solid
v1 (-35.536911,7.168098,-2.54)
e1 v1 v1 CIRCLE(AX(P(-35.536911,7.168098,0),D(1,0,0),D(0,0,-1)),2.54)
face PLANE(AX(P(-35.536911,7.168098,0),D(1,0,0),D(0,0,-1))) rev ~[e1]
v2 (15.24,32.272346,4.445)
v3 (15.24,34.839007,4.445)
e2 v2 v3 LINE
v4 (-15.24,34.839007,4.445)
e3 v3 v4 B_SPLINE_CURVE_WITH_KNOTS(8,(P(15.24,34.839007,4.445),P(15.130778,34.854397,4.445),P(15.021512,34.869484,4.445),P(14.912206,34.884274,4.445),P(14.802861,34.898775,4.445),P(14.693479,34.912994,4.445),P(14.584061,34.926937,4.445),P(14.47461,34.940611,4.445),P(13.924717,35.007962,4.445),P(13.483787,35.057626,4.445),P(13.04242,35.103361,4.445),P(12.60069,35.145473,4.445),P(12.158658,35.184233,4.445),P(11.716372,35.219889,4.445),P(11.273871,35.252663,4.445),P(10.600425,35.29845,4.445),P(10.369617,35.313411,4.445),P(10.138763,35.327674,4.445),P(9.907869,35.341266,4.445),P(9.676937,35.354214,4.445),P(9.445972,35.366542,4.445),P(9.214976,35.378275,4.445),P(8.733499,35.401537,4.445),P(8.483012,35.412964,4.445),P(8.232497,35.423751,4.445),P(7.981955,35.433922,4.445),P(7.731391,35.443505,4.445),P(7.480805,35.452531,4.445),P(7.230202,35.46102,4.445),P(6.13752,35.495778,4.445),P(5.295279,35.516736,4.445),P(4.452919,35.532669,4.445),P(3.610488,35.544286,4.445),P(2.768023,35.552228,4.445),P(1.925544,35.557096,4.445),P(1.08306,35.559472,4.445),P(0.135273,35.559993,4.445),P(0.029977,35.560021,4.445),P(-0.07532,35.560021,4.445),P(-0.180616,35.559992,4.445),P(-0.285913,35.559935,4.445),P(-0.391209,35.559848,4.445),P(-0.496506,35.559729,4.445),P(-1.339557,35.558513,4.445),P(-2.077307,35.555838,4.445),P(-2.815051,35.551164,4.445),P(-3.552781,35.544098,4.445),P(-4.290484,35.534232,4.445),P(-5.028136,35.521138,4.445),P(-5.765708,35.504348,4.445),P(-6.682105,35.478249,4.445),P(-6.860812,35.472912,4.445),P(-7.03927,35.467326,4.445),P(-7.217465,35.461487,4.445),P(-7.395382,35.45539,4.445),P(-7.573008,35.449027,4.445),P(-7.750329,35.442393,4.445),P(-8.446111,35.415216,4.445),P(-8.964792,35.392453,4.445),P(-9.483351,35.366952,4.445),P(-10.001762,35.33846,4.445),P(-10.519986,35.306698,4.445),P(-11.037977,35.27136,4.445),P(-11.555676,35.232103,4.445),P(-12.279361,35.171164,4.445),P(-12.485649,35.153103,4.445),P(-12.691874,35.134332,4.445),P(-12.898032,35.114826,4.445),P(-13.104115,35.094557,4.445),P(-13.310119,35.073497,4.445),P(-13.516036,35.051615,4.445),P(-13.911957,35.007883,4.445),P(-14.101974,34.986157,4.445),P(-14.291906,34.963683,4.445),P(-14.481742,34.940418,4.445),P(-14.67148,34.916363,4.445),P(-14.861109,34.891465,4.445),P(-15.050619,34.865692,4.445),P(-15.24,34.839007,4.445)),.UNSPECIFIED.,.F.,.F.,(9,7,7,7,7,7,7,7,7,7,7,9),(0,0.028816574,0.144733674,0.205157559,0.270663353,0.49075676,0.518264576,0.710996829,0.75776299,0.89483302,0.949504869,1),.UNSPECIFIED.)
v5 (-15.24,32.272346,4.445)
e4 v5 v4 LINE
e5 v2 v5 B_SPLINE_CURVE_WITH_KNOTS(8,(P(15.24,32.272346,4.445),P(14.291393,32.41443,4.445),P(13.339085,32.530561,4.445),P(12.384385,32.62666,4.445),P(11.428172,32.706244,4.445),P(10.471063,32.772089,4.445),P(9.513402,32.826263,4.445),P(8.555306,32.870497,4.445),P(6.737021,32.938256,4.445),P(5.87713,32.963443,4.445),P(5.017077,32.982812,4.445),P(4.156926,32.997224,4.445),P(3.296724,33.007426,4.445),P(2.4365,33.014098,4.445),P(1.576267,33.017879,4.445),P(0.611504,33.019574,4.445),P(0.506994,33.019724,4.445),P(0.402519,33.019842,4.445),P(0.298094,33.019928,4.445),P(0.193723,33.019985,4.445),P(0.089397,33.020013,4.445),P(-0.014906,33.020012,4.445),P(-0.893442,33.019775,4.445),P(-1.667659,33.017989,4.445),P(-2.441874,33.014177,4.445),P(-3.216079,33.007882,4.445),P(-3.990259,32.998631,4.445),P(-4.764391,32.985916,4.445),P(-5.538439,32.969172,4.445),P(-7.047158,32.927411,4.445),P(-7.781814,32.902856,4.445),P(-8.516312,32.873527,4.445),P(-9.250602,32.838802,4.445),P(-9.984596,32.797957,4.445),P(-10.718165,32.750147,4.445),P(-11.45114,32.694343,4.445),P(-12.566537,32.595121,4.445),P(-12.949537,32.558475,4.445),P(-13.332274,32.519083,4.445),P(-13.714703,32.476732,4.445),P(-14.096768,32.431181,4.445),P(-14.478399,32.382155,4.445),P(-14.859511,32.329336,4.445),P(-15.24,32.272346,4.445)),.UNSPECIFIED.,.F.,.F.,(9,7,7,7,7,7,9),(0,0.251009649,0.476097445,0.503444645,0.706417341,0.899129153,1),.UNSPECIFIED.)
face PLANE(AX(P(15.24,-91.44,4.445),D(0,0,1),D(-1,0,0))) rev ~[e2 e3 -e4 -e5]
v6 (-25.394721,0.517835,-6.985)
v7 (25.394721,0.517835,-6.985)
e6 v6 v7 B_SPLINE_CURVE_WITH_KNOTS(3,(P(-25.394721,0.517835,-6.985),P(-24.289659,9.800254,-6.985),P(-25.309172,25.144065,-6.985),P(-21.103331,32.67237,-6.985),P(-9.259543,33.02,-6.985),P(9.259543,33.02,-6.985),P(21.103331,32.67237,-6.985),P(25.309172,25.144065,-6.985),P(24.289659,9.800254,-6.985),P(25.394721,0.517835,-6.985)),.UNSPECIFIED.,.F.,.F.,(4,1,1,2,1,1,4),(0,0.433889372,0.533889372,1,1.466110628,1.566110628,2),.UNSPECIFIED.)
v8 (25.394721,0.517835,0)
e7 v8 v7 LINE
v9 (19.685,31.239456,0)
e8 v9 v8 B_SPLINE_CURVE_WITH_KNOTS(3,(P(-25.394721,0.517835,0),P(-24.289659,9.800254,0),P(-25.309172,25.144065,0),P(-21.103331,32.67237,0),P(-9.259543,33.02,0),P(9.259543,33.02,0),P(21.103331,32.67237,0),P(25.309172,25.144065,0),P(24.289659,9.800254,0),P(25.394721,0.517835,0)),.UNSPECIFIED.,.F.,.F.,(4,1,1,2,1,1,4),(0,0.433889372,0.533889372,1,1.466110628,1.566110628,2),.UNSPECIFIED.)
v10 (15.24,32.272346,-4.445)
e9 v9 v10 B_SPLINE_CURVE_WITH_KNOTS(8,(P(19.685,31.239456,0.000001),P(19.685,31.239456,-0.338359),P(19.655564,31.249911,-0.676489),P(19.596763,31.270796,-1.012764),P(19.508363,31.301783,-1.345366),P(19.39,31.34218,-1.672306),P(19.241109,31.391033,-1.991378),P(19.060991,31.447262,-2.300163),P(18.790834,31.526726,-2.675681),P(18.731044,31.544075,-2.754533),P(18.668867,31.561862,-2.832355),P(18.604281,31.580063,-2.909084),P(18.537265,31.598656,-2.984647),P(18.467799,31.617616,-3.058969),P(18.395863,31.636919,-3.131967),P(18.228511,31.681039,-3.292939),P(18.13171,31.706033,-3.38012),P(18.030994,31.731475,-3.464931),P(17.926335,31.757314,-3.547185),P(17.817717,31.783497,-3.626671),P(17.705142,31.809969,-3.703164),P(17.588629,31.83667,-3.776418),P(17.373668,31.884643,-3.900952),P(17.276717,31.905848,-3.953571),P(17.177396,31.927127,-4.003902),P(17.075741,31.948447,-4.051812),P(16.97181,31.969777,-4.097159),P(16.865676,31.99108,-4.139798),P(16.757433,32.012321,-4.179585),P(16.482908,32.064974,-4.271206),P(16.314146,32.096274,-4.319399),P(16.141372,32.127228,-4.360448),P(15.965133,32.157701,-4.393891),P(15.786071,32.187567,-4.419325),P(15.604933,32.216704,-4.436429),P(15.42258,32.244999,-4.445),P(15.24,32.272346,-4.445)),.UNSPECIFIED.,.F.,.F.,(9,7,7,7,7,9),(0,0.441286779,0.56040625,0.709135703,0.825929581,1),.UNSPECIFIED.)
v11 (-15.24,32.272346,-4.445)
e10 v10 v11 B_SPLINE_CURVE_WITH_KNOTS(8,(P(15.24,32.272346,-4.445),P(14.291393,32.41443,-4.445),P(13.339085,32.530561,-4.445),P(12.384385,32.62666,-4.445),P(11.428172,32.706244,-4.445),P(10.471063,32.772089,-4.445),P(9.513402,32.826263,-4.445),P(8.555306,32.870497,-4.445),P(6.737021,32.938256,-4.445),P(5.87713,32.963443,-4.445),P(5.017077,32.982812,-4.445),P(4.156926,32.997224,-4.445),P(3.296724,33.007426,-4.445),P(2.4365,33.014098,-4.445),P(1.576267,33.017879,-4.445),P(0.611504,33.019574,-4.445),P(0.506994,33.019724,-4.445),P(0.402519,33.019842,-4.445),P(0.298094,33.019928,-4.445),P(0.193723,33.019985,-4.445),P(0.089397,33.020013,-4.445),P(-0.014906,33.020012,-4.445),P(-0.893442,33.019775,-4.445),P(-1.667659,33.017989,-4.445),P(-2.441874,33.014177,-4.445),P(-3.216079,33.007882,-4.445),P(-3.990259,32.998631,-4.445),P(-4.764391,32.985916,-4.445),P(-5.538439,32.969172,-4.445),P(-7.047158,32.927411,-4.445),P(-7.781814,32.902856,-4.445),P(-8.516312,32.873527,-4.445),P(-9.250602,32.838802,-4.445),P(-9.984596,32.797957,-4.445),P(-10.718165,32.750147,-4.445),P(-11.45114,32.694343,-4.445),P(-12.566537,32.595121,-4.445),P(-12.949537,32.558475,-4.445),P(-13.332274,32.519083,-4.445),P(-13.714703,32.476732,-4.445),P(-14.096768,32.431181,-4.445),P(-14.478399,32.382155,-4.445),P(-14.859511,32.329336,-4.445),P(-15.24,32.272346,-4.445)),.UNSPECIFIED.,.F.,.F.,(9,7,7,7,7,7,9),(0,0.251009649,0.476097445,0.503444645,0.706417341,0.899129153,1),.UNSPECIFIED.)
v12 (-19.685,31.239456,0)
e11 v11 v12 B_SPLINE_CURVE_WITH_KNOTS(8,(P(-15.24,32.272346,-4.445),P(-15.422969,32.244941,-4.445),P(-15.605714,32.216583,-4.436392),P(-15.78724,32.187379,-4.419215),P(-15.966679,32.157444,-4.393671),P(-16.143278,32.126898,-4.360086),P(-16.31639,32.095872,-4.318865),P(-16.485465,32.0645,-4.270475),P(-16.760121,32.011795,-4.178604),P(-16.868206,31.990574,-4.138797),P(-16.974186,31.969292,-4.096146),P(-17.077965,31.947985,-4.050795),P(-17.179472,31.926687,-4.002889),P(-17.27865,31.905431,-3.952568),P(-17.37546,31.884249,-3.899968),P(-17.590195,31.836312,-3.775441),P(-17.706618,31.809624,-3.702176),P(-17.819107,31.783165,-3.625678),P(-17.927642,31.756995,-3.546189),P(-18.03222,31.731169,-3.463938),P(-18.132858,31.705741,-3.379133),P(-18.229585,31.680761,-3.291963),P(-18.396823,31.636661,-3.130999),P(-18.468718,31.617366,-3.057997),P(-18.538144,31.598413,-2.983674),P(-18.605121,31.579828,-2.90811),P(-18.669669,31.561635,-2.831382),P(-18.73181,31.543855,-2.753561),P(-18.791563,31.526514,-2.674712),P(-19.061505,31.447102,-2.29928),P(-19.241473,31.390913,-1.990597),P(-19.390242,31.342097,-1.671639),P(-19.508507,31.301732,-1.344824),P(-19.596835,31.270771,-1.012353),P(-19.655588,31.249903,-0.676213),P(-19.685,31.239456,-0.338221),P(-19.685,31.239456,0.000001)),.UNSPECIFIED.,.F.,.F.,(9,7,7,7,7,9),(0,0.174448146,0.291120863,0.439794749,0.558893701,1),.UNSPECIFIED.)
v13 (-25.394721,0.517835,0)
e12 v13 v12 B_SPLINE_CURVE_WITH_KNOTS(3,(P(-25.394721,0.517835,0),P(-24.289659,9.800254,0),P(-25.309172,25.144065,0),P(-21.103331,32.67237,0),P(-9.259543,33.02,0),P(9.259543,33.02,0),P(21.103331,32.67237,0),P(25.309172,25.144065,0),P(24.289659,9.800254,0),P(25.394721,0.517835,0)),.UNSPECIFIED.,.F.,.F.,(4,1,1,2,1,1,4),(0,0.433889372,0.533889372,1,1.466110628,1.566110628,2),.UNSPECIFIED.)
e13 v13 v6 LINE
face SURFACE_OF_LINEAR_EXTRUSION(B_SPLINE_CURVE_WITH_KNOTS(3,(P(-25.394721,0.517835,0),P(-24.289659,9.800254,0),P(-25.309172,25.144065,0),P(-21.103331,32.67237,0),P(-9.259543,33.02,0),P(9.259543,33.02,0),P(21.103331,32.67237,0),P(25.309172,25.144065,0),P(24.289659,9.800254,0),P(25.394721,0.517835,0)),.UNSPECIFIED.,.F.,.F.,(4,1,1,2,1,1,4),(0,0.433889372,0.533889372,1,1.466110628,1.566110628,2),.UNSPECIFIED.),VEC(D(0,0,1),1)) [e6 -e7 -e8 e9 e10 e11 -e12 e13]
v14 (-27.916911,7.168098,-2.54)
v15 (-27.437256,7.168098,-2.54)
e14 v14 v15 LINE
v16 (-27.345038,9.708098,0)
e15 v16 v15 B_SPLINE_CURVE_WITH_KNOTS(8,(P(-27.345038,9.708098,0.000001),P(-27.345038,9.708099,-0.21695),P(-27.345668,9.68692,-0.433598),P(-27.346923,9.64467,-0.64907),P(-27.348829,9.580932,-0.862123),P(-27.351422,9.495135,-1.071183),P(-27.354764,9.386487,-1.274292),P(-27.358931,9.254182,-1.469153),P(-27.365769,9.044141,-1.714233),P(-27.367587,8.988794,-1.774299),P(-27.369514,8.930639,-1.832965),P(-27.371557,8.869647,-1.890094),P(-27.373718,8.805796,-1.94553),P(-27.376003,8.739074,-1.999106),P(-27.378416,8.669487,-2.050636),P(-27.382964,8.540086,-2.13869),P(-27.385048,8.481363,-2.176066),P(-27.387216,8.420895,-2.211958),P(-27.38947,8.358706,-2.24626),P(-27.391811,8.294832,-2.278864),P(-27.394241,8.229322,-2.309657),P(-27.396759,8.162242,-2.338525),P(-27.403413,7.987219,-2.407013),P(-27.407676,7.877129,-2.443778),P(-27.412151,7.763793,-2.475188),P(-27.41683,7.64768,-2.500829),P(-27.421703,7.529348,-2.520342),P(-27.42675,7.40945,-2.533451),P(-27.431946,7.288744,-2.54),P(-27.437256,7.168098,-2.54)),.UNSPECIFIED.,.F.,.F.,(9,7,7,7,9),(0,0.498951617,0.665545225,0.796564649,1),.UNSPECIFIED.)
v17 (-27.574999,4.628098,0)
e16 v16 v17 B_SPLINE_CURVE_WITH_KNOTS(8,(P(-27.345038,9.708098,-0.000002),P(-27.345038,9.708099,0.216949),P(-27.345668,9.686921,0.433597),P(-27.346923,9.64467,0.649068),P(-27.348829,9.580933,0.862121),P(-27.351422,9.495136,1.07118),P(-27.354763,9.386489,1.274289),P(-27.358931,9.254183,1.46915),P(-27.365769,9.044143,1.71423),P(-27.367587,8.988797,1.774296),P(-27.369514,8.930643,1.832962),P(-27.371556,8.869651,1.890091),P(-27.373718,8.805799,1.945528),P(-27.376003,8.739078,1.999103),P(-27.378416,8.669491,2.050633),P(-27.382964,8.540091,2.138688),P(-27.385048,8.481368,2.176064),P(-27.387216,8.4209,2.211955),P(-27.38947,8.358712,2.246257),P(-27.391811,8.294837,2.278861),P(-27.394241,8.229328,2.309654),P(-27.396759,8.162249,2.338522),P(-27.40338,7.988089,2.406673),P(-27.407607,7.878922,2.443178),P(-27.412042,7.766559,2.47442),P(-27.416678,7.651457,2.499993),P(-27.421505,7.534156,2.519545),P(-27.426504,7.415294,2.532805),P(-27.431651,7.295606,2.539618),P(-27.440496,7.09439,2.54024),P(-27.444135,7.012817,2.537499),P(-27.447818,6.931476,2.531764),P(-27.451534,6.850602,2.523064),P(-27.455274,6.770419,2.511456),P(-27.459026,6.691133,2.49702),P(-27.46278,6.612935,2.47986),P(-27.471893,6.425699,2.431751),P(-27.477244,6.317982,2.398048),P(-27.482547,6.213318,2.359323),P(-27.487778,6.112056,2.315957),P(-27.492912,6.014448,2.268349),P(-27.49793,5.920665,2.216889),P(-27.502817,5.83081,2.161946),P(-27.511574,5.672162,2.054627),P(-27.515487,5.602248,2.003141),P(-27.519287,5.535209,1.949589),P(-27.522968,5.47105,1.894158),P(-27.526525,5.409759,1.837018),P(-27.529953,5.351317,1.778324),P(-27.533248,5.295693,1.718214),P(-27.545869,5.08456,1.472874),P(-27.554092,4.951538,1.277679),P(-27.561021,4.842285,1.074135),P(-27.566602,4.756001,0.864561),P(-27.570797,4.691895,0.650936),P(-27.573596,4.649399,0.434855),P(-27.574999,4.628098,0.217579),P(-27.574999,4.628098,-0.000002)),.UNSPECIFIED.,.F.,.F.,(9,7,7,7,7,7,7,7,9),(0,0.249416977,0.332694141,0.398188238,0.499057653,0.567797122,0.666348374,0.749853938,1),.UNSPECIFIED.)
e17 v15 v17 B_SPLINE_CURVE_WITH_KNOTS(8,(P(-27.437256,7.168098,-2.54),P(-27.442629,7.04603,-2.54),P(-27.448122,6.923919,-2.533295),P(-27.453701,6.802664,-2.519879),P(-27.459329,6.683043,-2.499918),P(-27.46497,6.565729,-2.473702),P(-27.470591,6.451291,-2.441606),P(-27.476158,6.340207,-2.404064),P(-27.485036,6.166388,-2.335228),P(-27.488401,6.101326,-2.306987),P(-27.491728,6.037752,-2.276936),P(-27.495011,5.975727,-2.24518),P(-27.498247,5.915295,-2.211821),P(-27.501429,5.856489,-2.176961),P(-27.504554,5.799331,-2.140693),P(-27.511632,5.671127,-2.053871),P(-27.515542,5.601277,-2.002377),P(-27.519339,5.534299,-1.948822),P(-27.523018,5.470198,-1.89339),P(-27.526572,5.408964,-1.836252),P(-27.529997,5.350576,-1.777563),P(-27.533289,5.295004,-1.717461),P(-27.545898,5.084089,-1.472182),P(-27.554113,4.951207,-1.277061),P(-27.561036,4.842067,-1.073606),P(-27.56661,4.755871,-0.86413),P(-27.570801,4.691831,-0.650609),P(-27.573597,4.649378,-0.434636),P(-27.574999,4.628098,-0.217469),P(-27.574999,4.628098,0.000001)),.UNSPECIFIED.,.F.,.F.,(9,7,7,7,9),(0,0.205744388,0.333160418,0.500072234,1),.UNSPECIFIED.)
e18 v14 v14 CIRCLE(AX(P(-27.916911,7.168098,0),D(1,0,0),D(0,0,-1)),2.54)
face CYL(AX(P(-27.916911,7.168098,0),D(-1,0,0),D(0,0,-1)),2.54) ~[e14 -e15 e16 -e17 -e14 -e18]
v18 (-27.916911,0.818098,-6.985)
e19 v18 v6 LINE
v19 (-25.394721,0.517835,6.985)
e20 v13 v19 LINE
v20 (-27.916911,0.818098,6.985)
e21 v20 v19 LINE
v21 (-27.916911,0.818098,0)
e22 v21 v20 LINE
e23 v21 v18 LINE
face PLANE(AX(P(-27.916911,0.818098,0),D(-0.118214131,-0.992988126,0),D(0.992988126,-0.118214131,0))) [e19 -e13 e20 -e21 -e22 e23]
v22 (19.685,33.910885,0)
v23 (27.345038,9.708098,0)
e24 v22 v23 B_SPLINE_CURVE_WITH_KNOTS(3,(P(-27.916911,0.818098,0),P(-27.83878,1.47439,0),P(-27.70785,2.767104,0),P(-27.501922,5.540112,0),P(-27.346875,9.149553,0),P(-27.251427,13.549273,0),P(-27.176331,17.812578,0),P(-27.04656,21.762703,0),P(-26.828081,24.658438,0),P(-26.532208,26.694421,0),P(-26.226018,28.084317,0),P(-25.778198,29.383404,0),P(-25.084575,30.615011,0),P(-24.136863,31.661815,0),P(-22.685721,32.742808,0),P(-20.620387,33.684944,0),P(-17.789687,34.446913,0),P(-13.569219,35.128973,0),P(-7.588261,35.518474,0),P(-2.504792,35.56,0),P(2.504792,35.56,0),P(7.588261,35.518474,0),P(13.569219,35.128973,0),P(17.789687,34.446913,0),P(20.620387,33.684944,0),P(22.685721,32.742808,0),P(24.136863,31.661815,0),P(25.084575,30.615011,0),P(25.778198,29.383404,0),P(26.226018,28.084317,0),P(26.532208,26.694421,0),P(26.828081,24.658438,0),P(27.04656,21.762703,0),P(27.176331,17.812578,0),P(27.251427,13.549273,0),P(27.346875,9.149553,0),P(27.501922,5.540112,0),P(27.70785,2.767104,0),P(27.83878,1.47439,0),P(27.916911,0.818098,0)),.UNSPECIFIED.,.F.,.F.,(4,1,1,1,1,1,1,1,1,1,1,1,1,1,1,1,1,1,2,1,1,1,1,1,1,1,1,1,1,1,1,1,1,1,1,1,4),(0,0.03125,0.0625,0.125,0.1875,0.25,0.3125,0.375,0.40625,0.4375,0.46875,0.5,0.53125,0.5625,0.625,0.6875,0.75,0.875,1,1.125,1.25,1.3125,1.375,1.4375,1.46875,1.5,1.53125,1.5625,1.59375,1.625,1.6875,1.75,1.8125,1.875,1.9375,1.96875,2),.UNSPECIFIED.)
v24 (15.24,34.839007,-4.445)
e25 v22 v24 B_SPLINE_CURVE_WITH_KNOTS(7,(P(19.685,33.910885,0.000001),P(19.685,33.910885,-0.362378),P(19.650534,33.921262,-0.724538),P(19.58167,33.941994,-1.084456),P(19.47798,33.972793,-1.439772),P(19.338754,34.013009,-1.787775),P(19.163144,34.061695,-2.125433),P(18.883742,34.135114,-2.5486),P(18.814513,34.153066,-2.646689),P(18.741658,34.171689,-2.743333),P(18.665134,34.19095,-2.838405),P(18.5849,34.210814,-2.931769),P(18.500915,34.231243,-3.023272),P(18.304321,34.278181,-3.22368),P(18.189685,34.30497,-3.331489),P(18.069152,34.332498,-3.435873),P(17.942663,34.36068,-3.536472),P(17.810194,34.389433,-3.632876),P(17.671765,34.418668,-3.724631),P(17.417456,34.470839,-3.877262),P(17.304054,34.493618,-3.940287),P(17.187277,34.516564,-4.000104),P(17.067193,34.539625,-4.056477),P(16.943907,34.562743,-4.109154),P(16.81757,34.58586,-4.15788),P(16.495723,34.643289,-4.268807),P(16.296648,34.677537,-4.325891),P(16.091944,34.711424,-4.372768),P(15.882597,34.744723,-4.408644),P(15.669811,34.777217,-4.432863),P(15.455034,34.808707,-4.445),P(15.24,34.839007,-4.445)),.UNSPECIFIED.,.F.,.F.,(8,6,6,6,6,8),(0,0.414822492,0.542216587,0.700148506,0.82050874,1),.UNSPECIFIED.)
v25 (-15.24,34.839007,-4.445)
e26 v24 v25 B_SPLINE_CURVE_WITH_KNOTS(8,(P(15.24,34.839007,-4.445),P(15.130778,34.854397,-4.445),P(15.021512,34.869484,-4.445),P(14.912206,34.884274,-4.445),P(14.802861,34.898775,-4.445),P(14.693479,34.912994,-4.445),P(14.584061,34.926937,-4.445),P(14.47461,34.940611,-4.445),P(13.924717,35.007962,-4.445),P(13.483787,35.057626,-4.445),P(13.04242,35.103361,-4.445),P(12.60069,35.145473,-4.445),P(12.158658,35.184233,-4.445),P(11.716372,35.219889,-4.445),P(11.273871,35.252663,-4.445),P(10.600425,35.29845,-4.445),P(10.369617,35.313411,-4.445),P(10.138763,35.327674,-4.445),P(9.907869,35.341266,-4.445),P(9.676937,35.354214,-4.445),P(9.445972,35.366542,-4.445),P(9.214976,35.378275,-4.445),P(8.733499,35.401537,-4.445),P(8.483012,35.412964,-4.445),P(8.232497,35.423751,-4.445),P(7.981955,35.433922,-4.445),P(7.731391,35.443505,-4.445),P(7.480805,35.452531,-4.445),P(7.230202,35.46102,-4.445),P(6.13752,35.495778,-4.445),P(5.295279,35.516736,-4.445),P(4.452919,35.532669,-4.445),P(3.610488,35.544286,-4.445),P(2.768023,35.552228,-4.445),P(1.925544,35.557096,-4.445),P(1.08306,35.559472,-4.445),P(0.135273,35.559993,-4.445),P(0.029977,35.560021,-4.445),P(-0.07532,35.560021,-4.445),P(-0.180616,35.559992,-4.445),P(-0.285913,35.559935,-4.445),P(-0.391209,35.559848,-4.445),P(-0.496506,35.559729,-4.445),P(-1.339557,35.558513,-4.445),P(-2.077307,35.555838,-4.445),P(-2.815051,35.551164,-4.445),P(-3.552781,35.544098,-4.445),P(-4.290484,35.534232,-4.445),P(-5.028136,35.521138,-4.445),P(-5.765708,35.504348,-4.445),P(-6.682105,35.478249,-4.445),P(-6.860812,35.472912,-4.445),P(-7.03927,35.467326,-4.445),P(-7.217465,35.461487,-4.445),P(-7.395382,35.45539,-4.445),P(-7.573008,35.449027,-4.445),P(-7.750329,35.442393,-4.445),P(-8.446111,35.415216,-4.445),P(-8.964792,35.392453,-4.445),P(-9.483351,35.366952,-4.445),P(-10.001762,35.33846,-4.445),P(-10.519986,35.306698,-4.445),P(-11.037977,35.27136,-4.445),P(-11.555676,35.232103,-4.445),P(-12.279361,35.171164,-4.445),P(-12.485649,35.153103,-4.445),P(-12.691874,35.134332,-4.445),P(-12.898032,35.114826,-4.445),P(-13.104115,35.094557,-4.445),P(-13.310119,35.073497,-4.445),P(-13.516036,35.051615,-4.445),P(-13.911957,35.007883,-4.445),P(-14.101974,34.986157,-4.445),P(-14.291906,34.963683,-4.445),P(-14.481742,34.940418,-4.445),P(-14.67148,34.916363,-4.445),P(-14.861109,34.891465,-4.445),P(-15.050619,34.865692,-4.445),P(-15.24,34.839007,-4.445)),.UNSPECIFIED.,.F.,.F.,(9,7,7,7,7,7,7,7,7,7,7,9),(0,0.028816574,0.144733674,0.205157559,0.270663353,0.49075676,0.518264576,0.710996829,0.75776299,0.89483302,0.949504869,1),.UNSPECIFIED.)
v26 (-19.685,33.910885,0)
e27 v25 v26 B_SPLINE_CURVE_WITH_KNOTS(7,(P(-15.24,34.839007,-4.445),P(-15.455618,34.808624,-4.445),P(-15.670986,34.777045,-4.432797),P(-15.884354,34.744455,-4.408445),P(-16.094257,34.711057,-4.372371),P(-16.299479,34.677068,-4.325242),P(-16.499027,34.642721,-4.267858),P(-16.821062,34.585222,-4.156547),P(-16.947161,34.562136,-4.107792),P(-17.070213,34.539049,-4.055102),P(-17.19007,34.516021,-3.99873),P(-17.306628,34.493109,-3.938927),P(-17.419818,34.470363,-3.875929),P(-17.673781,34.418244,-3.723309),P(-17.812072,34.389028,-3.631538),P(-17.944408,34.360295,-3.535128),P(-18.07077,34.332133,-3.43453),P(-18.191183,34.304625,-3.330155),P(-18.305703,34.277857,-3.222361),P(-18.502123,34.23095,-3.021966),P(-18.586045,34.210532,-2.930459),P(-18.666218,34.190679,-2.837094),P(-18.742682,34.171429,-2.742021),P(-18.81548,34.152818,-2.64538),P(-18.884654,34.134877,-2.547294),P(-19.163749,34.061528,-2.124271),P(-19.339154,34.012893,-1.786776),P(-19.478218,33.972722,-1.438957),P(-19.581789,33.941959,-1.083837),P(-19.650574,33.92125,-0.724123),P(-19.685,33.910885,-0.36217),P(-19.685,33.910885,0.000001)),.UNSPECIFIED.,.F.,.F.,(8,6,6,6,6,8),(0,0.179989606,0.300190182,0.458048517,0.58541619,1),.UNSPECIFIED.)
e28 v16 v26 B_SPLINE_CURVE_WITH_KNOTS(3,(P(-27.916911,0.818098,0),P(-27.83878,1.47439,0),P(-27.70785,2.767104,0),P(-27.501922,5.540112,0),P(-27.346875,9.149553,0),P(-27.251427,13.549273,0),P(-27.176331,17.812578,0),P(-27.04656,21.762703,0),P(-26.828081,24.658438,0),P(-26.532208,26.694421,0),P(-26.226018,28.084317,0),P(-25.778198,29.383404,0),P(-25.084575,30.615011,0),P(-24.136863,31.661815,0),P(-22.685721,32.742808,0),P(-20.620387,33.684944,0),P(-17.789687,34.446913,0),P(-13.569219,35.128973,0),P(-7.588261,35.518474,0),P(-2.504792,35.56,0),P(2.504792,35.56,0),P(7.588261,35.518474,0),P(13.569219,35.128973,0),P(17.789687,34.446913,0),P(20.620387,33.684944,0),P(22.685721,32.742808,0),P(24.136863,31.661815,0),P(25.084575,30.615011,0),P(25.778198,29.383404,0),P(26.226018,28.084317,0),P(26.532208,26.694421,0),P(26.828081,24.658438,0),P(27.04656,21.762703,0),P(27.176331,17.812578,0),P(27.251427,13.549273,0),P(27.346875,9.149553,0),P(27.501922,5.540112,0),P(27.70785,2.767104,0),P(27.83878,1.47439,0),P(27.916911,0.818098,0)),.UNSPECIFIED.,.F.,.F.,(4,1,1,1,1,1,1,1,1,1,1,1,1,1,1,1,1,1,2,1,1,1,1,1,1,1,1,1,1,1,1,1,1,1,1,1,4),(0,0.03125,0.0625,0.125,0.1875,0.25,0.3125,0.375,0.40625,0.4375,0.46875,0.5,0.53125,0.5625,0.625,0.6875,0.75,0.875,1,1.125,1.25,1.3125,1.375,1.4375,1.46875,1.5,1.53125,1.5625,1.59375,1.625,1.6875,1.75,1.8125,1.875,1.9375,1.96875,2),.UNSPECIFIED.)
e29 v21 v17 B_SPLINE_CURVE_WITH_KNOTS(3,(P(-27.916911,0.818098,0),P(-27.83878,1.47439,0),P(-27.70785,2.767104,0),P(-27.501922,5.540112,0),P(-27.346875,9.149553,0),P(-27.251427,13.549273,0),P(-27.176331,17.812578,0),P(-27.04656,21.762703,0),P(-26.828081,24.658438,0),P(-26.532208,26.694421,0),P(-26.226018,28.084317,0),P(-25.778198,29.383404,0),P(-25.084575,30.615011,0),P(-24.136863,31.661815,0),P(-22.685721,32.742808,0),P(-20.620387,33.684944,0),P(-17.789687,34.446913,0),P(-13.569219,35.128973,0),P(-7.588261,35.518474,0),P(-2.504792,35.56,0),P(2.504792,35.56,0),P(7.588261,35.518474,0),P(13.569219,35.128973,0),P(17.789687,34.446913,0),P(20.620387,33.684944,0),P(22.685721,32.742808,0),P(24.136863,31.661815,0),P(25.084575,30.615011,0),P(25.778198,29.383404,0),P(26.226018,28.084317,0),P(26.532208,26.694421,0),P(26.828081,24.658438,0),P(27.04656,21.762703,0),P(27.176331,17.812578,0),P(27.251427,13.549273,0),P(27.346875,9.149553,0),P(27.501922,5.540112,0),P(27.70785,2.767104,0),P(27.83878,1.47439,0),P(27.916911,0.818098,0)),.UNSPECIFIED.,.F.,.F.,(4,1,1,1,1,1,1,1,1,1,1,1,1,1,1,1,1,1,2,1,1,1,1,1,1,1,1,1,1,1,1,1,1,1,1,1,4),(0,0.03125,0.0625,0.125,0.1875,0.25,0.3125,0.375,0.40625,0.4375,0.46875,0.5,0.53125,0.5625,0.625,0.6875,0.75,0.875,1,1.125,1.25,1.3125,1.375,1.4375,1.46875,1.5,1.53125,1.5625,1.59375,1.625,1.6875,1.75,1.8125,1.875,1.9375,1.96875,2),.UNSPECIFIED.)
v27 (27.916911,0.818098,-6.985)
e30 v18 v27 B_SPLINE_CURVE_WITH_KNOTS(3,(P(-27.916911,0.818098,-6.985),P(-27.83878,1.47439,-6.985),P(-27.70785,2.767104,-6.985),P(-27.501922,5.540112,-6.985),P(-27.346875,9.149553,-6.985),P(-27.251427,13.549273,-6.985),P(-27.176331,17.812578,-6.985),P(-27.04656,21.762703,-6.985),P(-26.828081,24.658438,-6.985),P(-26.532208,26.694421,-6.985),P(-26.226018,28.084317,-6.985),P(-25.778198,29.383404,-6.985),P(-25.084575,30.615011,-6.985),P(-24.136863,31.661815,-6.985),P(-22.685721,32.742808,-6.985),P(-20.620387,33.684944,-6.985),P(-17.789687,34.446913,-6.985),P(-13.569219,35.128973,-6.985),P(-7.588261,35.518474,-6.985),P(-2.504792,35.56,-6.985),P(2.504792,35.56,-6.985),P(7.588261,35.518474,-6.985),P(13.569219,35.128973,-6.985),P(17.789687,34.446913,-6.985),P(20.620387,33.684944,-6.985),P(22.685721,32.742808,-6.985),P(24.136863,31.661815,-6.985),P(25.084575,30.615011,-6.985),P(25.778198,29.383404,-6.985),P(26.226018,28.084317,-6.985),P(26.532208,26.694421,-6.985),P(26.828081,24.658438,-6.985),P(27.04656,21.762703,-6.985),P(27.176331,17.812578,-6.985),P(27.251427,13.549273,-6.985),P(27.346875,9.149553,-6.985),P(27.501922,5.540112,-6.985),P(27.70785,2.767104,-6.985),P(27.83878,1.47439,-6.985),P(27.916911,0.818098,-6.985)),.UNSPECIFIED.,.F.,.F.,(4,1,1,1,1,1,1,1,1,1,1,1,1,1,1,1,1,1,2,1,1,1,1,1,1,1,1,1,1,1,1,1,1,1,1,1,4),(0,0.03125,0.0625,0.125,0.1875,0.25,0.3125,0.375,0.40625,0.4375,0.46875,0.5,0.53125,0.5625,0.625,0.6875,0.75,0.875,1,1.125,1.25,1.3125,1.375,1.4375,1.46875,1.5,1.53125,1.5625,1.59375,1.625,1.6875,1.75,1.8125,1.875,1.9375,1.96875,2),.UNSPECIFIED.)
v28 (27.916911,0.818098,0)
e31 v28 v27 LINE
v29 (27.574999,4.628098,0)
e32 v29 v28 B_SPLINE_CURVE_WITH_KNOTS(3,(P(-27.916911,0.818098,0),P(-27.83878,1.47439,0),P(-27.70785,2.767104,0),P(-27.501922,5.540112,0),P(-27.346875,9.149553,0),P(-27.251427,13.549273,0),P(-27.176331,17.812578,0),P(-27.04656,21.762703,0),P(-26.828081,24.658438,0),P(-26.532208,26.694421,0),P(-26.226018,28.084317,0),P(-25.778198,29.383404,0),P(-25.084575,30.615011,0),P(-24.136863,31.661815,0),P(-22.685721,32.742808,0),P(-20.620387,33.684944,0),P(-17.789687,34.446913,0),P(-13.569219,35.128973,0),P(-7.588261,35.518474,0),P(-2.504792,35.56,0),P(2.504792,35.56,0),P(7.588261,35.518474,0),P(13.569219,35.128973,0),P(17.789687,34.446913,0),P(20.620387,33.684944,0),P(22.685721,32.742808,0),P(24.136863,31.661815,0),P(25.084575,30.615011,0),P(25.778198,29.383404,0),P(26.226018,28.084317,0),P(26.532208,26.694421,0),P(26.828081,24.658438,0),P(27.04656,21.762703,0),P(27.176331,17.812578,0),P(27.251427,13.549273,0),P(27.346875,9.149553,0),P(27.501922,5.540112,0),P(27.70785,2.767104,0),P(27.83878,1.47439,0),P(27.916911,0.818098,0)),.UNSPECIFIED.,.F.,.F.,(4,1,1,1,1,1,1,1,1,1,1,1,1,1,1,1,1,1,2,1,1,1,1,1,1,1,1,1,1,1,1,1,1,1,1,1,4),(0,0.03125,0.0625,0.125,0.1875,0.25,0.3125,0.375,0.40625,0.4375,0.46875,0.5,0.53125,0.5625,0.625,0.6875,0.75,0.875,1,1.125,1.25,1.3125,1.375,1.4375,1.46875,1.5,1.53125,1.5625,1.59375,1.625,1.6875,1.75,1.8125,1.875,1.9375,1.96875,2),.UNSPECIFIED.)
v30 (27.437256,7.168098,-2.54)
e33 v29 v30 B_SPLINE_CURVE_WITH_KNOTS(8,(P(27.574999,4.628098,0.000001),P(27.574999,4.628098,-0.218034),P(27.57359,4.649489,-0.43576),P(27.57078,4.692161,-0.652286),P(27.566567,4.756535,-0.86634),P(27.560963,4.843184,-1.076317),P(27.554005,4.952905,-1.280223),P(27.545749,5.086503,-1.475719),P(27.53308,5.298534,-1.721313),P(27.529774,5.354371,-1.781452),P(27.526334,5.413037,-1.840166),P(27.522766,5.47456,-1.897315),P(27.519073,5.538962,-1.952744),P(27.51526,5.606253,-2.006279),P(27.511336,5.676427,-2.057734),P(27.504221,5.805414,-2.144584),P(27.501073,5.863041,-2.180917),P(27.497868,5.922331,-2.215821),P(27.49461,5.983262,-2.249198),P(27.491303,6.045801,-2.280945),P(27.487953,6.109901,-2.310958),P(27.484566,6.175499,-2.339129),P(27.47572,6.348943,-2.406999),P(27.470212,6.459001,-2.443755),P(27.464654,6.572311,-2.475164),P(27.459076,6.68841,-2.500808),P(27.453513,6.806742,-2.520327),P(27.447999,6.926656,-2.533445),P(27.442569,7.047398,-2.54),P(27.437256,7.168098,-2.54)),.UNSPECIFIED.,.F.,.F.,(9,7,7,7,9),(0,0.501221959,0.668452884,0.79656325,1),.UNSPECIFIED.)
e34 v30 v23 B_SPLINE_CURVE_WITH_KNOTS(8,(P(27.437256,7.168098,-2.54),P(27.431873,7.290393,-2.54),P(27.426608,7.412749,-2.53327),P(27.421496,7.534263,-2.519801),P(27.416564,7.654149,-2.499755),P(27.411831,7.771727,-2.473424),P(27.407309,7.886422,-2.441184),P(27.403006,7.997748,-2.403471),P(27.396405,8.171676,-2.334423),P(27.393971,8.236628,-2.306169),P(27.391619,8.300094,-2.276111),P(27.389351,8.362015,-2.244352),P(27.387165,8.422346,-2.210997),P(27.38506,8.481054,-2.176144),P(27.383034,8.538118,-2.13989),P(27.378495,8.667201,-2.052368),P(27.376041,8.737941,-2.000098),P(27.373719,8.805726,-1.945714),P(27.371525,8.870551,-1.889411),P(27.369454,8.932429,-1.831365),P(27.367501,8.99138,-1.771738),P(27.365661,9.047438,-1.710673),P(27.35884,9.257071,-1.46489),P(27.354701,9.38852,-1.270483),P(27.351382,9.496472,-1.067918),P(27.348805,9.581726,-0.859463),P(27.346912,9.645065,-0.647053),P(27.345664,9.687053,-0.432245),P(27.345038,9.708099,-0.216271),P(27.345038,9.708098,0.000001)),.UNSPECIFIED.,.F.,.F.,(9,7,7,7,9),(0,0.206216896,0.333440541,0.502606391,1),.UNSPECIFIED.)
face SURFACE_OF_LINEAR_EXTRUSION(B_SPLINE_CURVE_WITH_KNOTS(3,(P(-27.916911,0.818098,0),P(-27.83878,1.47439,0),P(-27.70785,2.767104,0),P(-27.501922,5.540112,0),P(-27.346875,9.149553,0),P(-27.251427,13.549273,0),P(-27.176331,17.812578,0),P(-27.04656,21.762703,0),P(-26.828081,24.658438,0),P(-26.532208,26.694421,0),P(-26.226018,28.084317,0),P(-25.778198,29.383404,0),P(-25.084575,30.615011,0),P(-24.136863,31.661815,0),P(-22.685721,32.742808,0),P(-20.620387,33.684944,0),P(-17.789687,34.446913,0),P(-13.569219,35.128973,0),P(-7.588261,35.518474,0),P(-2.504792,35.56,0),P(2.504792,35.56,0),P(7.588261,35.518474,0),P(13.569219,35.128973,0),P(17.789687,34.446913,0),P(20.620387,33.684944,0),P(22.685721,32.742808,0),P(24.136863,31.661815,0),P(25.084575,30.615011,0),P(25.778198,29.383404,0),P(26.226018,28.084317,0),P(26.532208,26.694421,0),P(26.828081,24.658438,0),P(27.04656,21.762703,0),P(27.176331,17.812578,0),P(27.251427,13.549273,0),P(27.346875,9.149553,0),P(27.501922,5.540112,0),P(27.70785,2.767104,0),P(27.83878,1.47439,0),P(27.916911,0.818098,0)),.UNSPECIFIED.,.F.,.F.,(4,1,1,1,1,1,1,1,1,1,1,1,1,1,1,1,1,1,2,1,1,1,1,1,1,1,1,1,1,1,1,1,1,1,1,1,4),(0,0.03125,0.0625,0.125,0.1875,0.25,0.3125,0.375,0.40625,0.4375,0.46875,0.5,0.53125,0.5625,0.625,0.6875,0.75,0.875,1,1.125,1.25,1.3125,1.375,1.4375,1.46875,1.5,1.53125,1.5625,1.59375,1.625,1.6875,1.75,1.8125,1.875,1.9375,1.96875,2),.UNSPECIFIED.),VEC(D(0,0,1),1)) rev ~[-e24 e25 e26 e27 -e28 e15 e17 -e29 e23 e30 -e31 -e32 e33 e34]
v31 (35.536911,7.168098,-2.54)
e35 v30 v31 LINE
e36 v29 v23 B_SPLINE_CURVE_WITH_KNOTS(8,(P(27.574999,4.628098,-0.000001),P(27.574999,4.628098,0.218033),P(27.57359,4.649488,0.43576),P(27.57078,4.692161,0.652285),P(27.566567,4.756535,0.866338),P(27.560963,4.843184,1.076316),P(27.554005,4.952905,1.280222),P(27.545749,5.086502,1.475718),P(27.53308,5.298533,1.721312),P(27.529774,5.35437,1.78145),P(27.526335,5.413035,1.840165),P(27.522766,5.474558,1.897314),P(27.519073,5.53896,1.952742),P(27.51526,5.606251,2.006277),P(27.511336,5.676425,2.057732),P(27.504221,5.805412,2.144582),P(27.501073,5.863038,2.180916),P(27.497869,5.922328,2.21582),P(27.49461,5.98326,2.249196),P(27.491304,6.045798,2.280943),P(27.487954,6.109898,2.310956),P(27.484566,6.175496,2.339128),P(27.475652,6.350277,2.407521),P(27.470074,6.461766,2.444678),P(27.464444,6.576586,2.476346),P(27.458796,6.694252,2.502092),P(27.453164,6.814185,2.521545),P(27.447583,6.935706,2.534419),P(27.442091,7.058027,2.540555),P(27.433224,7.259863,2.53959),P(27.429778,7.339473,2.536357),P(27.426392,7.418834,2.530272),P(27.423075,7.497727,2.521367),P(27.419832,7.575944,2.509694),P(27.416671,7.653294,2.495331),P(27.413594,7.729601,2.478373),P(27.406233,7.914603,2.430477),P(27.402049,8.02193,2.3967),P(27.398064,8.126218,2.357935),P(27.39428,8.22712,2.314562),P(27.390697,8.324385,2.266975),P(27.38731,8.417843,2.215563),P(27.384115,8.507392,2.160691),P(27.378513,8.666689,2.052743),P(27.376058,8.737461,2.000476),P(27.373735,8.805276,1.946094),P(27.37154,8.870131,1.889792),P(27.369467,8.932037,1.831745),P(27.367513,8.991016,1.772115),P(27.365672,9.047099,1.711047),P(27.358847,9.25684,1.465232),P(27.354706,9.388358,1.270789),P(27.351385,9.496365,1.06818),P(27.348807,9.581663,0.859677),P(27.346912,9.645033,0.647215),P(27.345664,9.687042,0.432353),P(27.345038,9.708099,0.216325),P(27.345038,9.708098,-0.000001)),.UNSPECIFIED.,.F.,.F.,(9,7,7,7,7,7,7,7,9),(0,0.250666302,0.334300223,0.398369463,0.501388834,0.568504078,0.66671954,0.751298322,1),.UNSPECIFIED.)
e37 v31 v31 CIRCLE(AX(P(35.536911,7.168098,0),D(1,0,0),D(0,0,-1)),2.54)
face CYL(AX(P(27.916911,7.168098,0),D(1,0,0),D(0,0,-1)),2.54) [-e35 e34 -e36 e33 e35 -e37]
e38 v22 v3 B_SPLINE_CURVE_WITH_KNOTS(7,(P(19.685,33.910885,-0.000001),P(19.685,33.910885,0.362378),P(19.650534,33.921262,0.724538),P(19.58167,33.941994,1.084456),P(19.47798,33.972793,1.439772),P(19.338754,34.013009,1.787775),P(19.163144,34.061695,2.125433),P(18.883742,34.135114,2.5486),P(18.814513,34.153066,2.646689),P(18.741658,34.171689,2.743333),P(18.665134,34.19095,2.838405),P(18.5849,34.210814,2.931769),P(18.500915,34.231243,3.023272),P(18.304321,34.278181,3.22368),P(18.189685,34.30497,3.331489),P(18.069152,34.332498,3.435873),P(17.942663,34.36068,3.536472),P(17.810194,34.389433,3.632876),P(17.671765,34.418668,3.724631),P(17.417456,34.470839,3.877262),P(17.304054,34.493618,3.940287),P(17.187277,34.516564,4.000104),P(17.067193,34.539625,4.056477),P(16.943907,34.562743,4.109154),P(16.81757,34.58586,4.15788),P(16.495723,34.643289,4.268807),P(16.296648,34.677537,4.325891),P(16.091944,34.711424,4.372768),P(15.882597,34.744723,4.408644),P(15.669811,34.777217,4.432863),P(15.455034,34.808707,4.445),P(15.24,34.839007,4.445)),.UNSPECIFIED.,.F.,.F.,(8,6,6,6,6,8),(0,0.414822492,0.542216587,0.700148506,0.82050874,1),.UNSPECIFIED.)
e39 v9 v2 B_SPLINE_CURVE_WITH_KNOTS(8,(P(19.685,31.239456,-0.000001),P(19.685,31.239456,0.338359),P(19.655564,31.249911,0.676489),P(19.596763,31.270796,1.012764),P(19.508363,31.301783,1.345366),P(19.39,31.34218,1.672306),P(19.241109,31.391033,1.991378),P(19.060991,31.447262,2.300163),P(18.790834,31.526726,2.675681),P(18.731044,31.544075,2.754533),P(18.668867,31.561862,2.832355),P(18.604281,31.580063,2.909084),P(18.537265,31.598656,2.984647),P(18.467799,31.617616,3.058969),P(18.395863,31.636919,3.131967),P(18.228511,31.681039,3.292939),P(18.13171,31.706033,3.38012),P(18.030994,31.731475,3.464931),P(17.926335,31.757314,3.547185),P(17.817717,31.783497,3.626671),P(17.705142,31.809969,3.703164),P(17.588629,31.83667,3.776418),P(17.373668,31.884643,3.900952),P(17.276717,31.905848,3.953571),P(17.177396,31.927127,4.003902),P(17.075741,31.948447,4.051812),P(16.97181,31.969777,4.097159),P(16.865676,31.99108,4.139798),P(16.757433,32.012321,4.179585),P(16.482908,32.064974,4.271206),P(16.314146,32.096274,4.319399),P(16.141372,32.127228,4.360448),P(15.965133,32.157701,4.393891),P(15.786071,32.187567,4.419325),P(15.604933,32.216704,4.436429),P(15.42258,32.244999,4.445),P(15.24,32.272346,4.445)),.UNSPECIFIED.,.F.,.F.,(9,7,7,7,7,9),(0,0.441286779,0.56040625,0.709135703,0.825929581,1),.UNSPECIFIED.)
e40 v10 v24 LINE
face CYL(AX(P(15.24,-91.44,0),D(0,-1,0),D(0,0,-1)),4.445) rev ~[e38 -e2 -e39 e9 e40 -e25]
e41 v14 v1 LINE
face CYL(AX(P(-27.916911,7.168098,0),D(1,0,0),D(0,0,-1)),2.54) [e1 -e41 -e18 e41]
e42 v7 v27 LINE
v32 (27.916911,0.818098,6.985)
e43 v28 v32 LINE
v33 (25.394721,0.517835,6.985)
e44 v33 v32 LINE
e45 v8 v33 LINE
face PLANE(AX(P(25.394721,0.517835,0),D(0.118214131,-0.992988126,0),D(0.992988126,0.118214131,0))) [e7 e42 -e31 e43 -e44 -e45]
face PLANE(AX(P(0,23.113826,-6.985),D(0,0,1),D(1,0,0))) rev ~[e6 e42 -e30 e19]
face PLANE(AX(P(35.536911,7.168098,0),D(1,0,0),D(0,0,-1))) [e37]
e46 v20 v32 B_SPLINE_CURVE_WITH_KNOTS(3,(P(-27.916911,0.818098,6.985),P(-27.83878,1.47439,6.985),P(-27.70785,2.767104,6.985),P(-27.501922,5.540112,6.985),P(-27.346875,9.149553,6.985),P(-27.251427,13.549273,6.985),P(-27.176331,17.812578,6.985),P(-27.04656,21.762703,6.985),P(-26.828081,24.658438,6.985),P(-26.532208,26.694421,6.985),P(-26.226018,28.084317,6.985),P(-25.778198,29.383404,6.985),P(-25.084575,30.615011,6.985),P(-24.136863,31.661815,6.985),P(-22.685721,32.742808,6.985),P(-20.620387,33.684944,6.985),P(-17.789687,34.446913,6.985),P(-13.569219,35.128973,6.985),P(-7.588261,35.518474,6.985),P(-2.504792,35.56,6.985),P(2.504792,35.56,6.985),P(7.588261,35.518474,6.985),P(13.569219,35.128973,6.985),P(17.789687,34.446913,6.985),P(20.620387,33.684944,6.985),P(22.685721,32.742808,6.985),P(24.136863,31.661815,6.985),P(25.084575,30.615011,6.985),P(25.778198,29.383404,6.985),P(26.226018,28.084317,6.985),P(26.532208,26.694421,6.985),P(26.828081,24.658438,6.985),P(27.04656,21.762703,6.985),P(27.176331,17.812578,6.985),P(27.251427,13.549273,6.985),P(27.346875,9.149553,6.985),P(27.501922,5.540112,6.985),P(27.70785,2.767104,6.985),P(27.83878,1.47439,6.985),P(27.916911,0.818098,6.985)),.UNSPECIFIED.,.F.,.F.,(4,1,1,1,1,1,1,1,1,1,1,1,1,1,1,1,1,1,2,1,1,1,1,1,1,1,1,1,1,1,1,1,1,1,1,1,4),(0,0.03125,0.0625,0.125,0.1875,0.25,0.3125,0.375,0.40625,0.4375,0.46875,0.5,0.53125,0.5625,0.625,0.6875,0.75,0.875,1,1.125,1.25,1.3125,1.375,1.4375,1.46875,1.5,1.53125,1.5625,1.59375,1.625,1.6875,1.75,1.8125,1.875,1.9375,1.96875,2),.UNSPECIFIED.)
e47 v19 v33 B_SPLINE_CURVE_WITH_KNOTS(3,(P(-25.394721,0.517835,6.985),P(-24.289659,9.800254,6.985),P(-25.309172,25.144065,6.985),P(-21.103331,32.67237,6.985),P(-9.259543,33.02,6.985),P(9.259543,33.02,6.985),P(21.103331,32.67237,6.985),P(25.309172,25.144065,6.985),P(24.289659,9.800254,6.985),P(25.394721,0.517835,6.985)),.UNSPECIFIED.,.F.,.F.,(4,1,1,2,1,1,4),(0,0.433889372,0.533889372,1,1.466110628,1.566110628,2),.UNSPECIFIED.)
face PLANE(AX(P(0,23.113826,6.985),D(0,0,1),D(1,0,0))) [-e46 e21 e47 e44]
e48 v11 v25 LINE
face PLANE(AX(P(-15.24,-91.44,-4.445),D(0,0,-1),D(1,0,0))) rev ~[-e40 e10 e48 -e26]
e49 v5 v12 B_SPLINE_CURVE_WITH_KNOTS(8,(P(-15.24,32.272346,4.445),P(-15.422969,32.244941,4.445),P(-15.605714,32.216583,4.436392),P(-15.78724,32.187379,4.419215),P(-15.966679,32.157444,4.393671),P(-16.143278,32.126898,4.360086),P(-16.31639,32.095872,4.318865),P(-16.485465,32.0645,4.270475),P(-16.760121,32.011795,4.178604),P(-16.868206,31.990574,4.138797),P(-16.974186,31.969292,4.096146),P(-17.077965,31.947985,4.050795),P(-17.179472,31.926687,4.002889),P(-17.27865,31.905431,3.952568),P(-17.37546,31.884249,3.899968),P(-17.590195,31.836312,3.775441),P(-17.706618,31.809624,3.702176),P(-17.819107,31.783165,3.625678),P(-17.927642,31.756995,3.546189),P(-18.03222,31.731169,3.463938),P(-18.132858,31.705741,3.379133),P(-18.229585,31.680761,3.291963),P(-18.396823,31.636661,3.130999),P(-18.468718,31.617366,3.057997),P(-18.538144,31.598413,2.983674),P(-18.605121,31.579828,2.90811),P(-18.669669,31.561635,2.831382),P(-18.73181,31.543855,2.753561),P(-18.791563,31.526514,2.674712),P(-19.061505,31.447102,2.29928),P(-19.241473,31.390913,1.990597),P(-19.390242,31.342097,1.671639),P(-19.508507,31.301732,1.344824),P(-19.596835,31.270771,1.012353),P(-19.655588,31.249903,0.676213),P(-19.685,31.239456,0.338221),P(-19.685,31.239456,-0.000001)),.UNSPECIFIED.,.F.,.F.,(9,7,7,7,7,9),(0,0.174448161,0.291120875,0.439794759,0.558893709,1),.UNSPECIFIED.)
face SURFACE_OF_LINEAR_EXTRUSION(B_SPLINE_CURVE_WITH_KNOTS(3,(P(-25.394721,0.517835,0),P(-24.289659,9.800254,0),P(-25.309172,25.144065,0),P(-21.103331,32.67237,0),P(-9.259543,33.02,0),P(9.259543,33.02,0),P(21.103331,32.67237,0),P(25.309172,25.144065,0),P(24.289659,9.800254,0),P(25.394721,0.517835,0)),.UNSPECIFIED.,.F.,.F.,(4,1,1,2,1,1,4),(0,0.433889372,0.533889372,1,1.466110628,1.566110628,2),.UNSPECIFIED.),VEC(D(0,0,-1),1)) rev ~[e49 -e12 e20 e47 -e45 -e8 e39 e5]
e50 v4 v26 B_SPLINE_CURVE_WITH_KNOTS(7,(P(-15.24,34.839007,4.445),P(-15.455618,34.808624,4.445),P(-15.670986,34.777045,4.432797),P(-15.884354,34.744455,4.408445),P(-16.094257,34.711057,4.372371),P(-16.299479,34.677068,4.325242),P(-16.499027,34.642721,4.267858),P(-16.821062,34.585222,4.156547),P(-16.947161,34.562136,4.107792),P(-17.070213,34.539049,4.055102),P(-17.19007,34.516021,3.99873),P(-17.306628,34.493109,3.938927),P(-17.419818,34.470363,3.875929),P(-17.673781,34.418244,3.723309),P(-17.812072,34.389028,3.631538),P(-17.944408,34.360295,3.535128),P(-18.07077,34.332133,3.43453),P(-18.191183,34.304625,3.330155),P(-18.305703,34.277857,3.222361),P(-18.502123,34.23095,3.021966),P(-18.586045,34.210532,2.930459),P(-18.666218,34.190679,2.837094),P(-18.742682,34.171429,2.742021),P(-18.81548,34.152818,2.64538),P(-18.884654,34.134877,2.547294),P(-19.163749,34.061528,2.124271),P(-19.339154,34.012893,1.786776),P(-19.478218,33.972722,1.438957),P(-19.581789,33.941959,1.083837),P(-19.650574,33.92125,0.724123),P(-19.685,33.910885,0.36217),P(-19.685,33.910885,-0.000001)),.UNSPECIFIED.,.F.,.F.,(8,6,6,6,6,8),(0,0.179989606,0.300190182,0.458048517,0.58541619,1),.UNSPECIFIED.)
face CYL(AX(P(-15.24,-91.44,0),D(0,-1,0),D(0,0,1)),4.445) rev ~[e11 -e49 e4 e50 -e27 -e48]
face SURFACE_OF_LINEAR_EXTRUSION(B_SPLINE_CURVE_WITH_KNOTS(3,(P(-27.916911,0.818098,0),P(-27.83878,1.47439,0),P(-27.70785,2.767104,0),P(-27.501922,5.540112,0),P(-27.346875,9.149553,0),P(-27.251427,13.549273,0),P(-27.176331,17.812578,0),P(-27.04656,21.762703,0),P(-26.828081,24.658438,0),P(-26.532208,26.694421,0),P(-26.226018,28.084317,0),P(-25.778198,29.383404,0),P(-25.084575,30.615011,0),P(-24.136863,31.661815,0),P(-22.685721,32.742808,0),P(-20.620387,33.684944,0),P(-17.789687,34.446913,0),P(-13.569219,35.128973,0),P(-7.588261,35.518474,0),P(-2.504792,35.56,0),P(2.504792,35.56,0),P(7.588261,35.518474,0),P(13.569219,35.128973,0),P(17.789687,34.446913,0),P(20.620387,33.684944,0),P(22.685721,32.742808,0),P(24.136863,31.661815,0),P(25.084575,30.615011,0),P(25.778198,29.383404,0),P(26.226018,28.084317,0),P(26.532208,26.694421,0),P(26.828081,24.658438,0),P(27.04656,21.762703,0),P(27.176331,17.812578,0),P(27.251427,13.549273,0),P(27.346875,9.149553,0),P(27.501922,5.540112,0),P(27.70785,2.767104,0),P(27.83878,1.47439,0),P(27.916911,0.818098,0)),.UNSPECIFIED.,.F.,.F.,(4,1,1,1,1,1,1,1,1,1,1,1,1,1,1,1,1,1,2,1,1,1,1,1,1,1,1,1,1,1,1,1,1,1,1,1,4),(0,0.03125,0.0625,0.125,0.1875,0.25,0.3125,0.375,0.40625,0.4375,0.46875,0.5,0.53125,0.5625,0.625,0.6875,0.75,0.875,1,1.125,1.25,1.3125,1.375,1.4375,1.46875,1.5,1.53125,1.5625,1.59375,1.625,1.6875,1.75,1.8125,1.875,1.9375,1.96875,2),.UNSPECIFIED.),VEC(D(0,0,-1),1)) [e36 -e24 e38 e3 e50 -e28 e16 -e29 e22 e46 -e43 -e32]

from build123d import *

# Parameters (mm, degrees)
MAIN_BODY_DEPTH              = 6.985
SLOT_FOR_JOYSTICK_DEPTH      = 127
SLOT_FOR_JOYSTICK_DEPTH_BACK = 127
SKETCH5_R                    = 2.54
NIBBLE_TWO_DEPTH             = 7.62
NIBBLE_TWO_DIRECTION_2_REACH = 68.564
SKETCH6_R                    = 2.54
NIBBLE_ONE_DEPTH             = 7.62
NIBBLE_ONE_DIRECTION_2_REACH = 75.073
SKETCH7_W                    = 3.81
SKETCH7_H                    = 1.27
FLAG_DEPTH                   = 0.254


with BuildPart() as part:
    # Sketch3 → main body (new, symmetric)
    with BuildSketch(Plane.XY):
        with BuildLine():
            Line((-27.916910697, 0.818098475), (-25.394720856, 0.517834583))
            add(Edge.make_bspline(
                [(-25.394720856, 0.517834583), (-24.289659103, 9.800254467), (-25.309171876, 25.144064865), (-21.103330705, 32.672370394), (-9.259543282, 33.02), (0, 33.02)],
                knots=[0, 0, 0, 0, 0.433889372, 0.533889372, 1, 1, 1, 1], degree=3))
            add(Edge.make_bspline(
                [(25.394720856, 0.517834583), (24.289659103, 9.800254467), (25.309171876, 25.144064865), (21.103330705, 32.672370394), (9.259543282, 33.02), (0, 33.02)],
                knots=[0, 0, 0, 0, 0.433889372, 0.533889372, 1, 1, 1, 1], degree=3))
            Line((25.394720856, 0.517834583), (27.916910697, 0.818098475))
            add(Edge.make_bspline(
                [(0, 35.56), (2.504792284, 35.56), (7.588261473, 35.51847444), (13.569218674, 35.128973367), (17.789687075, 34.446912983), (20.620387258, 33.684944292), (22.68572116, 32.742807522), (24.136863213, 31.661814521), (25.084575313, 30.615010717), (25.778197543, 29.383403628), (26.226017768, 28.084316609), (26.532207717, 26.69442114), (26.828081049, 24.65843792), (27.046560459, 21.762703474), (27.176330929, 17.812577908), (27.251426867, 13.549272517), (27.346875323, 9.149553118), (27.501921862, 5.540111523), (27.707850026, 2.767103544), (27.838779979, 1.474389517), (27.916910697, 0.818098475)],
                knots=[0, 0, 0, 0, 0.125, 0.25, 0.3125, 0.375, 0.4375, 0.46875, 0.5, 0.53125, 0.5625, 0.59375, 0.625, 0.6875, 0.75, 0.8125, 0.875, 0.9375, 0.96875, 1, 1, 1, 1], degree=3))
            add(Edge.make_bspline(
                [(-27.916910697, 0.818098475), (-27.838779979, 1.474389517), (-27.707850026, 2.767103544), (-27.501921862, 5.540111523), (-27.346875323, 9.149553118), (-27.251426867, 13.549272517), (-27.176330929, 17.812577908), (-27.046560459, 21.762703474), (-26.828081049, 24.65843792), (-26.532207717, 26.69442114), (-26.226017768, 28.084316609), (-25.778197543, 29.383403628), (-25.084575313, 30.615010717), (-24.136863213, 31.661814521), (-22.68572116, 32.742807522), (-20.620387258, 33.684944292), (-17.789687075, 34.446912983), (-13.569218674, 35.128973367), (-7.588261473, 35.51847444), (-2.504792284, 35.56), (0, 35.56)],
                knots=[0, 0, 0, 0, 0.03125, 0.0625, 0.125, 0.1875, 0.25, 0.3125, 0.375, 0.40625, 0.4375, 0.46875, 0.5, 0.53125, 0.5625, 0.625, 0.6875, 0.75, 0.875, 1, 1, 1, 1], degree=3))
        make_face()
    extrude(amount=MAIN_BODY_DEPTH, both=True)

    # Sketch4 → slot for joystick (cut, two sides: drawn at the far end of the back side and taken through both)
    with BuildSketch(Plane(origin=(0, 35.56, 0), x_dir=(1, 0, 0), z_dir=(0, 1, 0)).offset(-SLOT_FOR_JOYSTICK_DEPTH_BACK)):
        with BuildLine():
            Line((-15.24, 4.445), (15.24, 4.445))
            ThreePointArc((15.24, 4.445), (19.685, 0), (15.24, -4.445))
            Line((15.24, -4.445), (-15.24, -4.445))
            ThreePointArc((-15.24, -4.445), (-19.685, 0), (-15.24, 4.445))
        make_face()
    extrude(amount=SLOT_FOR_JOYSTICK_DEPTH + SLOT_FOR_JOYSTICK_DEPTH_BACK, mode=Mode.SUBTRACT)

    # Sketch5 → nibble two (add)
    with BuildSketch(Plane(origin=(27.916910697, 0, 0), x_dir=(0, 0, -1), z_dir=(1, 0, 0))):
        with Locations((0, 7.168098475)):
            Circle(SKETCH5_R)
    extrude(amount=NIBBLE_TWO_DEPTH)

    # Sketch5 → nibble two direction 2 (add, up to next)
    with BuildSketch(Plane(origin=(27.916910697, 0, 0), x_dir=(0, 0, -1), z_dir=(1, 0, 0)), mode=Mode.PRIVATE) as nibble_two_direction_2_sk1:
        with Locations((0, 7.168098475)):
            Circle(SKETCH5_R)
    nibble_two_direction_2_tool1 = extrude(nibble_two_direction_2_sk1.sketch, amount=-NIBBLE_TWO_DIRECTION_2_REACH, mode=Mode.PRIVATE) - part.part
    add(nibble_two_direction_2_tool1.solids().sort_by_distance((27.916911, 7.168098, 0))[0])

    # Sketch6 → nibble one (add)
    with BuildSketch(Plane(origin=(-27.916910697, 0, 0), x_dir=(0, 0, -1), z_dir=(1, 0, 0))):
        with Locations((0, 7.168098475)):
            Circle(SKETCH6_R)
    extrude(amount=-NIBBLE_ONE_DEPTH)

    # Sketch6 → nibble one direction 2 (add, up to next)
    with BuildSketch(Plane(origin=(-27.916910697, 0, 0), x_dir=(0, 0, -1), z_dir=(1, 0, 0)), mode=Mode.PRIVATE) as nibble_one_direction_2_sk1:
        with Locations((0, 7.168098475)):
            Circle(SKETCH6_R)
    nibble_one_direction_2_tool1 = extrude(nibble_one_direction_2_sk1.sketch, amount=NIBBLE_ONE_DIRECTION_2_REACH, mode=Mode.PRIVATE) - part.part
    add(nibble_one_direction_2_tool1.solids().sort_by_distance((-27.916911, 7.168098, 0))[0])

    # Sketch7 → flag (add)
    with BuildSketch(Plane(origin=(0, 7.168098475, 0), x_dir=(1, 0, 0), z_dir=(0, 1, 0))):
        with Locations((-29.429266279, -0.015489835)):
            Rectangle(SKETCH7_W, SKETCH7_H)
    extrude(amount=-FLAG_DEPTH)


solid = part.part
